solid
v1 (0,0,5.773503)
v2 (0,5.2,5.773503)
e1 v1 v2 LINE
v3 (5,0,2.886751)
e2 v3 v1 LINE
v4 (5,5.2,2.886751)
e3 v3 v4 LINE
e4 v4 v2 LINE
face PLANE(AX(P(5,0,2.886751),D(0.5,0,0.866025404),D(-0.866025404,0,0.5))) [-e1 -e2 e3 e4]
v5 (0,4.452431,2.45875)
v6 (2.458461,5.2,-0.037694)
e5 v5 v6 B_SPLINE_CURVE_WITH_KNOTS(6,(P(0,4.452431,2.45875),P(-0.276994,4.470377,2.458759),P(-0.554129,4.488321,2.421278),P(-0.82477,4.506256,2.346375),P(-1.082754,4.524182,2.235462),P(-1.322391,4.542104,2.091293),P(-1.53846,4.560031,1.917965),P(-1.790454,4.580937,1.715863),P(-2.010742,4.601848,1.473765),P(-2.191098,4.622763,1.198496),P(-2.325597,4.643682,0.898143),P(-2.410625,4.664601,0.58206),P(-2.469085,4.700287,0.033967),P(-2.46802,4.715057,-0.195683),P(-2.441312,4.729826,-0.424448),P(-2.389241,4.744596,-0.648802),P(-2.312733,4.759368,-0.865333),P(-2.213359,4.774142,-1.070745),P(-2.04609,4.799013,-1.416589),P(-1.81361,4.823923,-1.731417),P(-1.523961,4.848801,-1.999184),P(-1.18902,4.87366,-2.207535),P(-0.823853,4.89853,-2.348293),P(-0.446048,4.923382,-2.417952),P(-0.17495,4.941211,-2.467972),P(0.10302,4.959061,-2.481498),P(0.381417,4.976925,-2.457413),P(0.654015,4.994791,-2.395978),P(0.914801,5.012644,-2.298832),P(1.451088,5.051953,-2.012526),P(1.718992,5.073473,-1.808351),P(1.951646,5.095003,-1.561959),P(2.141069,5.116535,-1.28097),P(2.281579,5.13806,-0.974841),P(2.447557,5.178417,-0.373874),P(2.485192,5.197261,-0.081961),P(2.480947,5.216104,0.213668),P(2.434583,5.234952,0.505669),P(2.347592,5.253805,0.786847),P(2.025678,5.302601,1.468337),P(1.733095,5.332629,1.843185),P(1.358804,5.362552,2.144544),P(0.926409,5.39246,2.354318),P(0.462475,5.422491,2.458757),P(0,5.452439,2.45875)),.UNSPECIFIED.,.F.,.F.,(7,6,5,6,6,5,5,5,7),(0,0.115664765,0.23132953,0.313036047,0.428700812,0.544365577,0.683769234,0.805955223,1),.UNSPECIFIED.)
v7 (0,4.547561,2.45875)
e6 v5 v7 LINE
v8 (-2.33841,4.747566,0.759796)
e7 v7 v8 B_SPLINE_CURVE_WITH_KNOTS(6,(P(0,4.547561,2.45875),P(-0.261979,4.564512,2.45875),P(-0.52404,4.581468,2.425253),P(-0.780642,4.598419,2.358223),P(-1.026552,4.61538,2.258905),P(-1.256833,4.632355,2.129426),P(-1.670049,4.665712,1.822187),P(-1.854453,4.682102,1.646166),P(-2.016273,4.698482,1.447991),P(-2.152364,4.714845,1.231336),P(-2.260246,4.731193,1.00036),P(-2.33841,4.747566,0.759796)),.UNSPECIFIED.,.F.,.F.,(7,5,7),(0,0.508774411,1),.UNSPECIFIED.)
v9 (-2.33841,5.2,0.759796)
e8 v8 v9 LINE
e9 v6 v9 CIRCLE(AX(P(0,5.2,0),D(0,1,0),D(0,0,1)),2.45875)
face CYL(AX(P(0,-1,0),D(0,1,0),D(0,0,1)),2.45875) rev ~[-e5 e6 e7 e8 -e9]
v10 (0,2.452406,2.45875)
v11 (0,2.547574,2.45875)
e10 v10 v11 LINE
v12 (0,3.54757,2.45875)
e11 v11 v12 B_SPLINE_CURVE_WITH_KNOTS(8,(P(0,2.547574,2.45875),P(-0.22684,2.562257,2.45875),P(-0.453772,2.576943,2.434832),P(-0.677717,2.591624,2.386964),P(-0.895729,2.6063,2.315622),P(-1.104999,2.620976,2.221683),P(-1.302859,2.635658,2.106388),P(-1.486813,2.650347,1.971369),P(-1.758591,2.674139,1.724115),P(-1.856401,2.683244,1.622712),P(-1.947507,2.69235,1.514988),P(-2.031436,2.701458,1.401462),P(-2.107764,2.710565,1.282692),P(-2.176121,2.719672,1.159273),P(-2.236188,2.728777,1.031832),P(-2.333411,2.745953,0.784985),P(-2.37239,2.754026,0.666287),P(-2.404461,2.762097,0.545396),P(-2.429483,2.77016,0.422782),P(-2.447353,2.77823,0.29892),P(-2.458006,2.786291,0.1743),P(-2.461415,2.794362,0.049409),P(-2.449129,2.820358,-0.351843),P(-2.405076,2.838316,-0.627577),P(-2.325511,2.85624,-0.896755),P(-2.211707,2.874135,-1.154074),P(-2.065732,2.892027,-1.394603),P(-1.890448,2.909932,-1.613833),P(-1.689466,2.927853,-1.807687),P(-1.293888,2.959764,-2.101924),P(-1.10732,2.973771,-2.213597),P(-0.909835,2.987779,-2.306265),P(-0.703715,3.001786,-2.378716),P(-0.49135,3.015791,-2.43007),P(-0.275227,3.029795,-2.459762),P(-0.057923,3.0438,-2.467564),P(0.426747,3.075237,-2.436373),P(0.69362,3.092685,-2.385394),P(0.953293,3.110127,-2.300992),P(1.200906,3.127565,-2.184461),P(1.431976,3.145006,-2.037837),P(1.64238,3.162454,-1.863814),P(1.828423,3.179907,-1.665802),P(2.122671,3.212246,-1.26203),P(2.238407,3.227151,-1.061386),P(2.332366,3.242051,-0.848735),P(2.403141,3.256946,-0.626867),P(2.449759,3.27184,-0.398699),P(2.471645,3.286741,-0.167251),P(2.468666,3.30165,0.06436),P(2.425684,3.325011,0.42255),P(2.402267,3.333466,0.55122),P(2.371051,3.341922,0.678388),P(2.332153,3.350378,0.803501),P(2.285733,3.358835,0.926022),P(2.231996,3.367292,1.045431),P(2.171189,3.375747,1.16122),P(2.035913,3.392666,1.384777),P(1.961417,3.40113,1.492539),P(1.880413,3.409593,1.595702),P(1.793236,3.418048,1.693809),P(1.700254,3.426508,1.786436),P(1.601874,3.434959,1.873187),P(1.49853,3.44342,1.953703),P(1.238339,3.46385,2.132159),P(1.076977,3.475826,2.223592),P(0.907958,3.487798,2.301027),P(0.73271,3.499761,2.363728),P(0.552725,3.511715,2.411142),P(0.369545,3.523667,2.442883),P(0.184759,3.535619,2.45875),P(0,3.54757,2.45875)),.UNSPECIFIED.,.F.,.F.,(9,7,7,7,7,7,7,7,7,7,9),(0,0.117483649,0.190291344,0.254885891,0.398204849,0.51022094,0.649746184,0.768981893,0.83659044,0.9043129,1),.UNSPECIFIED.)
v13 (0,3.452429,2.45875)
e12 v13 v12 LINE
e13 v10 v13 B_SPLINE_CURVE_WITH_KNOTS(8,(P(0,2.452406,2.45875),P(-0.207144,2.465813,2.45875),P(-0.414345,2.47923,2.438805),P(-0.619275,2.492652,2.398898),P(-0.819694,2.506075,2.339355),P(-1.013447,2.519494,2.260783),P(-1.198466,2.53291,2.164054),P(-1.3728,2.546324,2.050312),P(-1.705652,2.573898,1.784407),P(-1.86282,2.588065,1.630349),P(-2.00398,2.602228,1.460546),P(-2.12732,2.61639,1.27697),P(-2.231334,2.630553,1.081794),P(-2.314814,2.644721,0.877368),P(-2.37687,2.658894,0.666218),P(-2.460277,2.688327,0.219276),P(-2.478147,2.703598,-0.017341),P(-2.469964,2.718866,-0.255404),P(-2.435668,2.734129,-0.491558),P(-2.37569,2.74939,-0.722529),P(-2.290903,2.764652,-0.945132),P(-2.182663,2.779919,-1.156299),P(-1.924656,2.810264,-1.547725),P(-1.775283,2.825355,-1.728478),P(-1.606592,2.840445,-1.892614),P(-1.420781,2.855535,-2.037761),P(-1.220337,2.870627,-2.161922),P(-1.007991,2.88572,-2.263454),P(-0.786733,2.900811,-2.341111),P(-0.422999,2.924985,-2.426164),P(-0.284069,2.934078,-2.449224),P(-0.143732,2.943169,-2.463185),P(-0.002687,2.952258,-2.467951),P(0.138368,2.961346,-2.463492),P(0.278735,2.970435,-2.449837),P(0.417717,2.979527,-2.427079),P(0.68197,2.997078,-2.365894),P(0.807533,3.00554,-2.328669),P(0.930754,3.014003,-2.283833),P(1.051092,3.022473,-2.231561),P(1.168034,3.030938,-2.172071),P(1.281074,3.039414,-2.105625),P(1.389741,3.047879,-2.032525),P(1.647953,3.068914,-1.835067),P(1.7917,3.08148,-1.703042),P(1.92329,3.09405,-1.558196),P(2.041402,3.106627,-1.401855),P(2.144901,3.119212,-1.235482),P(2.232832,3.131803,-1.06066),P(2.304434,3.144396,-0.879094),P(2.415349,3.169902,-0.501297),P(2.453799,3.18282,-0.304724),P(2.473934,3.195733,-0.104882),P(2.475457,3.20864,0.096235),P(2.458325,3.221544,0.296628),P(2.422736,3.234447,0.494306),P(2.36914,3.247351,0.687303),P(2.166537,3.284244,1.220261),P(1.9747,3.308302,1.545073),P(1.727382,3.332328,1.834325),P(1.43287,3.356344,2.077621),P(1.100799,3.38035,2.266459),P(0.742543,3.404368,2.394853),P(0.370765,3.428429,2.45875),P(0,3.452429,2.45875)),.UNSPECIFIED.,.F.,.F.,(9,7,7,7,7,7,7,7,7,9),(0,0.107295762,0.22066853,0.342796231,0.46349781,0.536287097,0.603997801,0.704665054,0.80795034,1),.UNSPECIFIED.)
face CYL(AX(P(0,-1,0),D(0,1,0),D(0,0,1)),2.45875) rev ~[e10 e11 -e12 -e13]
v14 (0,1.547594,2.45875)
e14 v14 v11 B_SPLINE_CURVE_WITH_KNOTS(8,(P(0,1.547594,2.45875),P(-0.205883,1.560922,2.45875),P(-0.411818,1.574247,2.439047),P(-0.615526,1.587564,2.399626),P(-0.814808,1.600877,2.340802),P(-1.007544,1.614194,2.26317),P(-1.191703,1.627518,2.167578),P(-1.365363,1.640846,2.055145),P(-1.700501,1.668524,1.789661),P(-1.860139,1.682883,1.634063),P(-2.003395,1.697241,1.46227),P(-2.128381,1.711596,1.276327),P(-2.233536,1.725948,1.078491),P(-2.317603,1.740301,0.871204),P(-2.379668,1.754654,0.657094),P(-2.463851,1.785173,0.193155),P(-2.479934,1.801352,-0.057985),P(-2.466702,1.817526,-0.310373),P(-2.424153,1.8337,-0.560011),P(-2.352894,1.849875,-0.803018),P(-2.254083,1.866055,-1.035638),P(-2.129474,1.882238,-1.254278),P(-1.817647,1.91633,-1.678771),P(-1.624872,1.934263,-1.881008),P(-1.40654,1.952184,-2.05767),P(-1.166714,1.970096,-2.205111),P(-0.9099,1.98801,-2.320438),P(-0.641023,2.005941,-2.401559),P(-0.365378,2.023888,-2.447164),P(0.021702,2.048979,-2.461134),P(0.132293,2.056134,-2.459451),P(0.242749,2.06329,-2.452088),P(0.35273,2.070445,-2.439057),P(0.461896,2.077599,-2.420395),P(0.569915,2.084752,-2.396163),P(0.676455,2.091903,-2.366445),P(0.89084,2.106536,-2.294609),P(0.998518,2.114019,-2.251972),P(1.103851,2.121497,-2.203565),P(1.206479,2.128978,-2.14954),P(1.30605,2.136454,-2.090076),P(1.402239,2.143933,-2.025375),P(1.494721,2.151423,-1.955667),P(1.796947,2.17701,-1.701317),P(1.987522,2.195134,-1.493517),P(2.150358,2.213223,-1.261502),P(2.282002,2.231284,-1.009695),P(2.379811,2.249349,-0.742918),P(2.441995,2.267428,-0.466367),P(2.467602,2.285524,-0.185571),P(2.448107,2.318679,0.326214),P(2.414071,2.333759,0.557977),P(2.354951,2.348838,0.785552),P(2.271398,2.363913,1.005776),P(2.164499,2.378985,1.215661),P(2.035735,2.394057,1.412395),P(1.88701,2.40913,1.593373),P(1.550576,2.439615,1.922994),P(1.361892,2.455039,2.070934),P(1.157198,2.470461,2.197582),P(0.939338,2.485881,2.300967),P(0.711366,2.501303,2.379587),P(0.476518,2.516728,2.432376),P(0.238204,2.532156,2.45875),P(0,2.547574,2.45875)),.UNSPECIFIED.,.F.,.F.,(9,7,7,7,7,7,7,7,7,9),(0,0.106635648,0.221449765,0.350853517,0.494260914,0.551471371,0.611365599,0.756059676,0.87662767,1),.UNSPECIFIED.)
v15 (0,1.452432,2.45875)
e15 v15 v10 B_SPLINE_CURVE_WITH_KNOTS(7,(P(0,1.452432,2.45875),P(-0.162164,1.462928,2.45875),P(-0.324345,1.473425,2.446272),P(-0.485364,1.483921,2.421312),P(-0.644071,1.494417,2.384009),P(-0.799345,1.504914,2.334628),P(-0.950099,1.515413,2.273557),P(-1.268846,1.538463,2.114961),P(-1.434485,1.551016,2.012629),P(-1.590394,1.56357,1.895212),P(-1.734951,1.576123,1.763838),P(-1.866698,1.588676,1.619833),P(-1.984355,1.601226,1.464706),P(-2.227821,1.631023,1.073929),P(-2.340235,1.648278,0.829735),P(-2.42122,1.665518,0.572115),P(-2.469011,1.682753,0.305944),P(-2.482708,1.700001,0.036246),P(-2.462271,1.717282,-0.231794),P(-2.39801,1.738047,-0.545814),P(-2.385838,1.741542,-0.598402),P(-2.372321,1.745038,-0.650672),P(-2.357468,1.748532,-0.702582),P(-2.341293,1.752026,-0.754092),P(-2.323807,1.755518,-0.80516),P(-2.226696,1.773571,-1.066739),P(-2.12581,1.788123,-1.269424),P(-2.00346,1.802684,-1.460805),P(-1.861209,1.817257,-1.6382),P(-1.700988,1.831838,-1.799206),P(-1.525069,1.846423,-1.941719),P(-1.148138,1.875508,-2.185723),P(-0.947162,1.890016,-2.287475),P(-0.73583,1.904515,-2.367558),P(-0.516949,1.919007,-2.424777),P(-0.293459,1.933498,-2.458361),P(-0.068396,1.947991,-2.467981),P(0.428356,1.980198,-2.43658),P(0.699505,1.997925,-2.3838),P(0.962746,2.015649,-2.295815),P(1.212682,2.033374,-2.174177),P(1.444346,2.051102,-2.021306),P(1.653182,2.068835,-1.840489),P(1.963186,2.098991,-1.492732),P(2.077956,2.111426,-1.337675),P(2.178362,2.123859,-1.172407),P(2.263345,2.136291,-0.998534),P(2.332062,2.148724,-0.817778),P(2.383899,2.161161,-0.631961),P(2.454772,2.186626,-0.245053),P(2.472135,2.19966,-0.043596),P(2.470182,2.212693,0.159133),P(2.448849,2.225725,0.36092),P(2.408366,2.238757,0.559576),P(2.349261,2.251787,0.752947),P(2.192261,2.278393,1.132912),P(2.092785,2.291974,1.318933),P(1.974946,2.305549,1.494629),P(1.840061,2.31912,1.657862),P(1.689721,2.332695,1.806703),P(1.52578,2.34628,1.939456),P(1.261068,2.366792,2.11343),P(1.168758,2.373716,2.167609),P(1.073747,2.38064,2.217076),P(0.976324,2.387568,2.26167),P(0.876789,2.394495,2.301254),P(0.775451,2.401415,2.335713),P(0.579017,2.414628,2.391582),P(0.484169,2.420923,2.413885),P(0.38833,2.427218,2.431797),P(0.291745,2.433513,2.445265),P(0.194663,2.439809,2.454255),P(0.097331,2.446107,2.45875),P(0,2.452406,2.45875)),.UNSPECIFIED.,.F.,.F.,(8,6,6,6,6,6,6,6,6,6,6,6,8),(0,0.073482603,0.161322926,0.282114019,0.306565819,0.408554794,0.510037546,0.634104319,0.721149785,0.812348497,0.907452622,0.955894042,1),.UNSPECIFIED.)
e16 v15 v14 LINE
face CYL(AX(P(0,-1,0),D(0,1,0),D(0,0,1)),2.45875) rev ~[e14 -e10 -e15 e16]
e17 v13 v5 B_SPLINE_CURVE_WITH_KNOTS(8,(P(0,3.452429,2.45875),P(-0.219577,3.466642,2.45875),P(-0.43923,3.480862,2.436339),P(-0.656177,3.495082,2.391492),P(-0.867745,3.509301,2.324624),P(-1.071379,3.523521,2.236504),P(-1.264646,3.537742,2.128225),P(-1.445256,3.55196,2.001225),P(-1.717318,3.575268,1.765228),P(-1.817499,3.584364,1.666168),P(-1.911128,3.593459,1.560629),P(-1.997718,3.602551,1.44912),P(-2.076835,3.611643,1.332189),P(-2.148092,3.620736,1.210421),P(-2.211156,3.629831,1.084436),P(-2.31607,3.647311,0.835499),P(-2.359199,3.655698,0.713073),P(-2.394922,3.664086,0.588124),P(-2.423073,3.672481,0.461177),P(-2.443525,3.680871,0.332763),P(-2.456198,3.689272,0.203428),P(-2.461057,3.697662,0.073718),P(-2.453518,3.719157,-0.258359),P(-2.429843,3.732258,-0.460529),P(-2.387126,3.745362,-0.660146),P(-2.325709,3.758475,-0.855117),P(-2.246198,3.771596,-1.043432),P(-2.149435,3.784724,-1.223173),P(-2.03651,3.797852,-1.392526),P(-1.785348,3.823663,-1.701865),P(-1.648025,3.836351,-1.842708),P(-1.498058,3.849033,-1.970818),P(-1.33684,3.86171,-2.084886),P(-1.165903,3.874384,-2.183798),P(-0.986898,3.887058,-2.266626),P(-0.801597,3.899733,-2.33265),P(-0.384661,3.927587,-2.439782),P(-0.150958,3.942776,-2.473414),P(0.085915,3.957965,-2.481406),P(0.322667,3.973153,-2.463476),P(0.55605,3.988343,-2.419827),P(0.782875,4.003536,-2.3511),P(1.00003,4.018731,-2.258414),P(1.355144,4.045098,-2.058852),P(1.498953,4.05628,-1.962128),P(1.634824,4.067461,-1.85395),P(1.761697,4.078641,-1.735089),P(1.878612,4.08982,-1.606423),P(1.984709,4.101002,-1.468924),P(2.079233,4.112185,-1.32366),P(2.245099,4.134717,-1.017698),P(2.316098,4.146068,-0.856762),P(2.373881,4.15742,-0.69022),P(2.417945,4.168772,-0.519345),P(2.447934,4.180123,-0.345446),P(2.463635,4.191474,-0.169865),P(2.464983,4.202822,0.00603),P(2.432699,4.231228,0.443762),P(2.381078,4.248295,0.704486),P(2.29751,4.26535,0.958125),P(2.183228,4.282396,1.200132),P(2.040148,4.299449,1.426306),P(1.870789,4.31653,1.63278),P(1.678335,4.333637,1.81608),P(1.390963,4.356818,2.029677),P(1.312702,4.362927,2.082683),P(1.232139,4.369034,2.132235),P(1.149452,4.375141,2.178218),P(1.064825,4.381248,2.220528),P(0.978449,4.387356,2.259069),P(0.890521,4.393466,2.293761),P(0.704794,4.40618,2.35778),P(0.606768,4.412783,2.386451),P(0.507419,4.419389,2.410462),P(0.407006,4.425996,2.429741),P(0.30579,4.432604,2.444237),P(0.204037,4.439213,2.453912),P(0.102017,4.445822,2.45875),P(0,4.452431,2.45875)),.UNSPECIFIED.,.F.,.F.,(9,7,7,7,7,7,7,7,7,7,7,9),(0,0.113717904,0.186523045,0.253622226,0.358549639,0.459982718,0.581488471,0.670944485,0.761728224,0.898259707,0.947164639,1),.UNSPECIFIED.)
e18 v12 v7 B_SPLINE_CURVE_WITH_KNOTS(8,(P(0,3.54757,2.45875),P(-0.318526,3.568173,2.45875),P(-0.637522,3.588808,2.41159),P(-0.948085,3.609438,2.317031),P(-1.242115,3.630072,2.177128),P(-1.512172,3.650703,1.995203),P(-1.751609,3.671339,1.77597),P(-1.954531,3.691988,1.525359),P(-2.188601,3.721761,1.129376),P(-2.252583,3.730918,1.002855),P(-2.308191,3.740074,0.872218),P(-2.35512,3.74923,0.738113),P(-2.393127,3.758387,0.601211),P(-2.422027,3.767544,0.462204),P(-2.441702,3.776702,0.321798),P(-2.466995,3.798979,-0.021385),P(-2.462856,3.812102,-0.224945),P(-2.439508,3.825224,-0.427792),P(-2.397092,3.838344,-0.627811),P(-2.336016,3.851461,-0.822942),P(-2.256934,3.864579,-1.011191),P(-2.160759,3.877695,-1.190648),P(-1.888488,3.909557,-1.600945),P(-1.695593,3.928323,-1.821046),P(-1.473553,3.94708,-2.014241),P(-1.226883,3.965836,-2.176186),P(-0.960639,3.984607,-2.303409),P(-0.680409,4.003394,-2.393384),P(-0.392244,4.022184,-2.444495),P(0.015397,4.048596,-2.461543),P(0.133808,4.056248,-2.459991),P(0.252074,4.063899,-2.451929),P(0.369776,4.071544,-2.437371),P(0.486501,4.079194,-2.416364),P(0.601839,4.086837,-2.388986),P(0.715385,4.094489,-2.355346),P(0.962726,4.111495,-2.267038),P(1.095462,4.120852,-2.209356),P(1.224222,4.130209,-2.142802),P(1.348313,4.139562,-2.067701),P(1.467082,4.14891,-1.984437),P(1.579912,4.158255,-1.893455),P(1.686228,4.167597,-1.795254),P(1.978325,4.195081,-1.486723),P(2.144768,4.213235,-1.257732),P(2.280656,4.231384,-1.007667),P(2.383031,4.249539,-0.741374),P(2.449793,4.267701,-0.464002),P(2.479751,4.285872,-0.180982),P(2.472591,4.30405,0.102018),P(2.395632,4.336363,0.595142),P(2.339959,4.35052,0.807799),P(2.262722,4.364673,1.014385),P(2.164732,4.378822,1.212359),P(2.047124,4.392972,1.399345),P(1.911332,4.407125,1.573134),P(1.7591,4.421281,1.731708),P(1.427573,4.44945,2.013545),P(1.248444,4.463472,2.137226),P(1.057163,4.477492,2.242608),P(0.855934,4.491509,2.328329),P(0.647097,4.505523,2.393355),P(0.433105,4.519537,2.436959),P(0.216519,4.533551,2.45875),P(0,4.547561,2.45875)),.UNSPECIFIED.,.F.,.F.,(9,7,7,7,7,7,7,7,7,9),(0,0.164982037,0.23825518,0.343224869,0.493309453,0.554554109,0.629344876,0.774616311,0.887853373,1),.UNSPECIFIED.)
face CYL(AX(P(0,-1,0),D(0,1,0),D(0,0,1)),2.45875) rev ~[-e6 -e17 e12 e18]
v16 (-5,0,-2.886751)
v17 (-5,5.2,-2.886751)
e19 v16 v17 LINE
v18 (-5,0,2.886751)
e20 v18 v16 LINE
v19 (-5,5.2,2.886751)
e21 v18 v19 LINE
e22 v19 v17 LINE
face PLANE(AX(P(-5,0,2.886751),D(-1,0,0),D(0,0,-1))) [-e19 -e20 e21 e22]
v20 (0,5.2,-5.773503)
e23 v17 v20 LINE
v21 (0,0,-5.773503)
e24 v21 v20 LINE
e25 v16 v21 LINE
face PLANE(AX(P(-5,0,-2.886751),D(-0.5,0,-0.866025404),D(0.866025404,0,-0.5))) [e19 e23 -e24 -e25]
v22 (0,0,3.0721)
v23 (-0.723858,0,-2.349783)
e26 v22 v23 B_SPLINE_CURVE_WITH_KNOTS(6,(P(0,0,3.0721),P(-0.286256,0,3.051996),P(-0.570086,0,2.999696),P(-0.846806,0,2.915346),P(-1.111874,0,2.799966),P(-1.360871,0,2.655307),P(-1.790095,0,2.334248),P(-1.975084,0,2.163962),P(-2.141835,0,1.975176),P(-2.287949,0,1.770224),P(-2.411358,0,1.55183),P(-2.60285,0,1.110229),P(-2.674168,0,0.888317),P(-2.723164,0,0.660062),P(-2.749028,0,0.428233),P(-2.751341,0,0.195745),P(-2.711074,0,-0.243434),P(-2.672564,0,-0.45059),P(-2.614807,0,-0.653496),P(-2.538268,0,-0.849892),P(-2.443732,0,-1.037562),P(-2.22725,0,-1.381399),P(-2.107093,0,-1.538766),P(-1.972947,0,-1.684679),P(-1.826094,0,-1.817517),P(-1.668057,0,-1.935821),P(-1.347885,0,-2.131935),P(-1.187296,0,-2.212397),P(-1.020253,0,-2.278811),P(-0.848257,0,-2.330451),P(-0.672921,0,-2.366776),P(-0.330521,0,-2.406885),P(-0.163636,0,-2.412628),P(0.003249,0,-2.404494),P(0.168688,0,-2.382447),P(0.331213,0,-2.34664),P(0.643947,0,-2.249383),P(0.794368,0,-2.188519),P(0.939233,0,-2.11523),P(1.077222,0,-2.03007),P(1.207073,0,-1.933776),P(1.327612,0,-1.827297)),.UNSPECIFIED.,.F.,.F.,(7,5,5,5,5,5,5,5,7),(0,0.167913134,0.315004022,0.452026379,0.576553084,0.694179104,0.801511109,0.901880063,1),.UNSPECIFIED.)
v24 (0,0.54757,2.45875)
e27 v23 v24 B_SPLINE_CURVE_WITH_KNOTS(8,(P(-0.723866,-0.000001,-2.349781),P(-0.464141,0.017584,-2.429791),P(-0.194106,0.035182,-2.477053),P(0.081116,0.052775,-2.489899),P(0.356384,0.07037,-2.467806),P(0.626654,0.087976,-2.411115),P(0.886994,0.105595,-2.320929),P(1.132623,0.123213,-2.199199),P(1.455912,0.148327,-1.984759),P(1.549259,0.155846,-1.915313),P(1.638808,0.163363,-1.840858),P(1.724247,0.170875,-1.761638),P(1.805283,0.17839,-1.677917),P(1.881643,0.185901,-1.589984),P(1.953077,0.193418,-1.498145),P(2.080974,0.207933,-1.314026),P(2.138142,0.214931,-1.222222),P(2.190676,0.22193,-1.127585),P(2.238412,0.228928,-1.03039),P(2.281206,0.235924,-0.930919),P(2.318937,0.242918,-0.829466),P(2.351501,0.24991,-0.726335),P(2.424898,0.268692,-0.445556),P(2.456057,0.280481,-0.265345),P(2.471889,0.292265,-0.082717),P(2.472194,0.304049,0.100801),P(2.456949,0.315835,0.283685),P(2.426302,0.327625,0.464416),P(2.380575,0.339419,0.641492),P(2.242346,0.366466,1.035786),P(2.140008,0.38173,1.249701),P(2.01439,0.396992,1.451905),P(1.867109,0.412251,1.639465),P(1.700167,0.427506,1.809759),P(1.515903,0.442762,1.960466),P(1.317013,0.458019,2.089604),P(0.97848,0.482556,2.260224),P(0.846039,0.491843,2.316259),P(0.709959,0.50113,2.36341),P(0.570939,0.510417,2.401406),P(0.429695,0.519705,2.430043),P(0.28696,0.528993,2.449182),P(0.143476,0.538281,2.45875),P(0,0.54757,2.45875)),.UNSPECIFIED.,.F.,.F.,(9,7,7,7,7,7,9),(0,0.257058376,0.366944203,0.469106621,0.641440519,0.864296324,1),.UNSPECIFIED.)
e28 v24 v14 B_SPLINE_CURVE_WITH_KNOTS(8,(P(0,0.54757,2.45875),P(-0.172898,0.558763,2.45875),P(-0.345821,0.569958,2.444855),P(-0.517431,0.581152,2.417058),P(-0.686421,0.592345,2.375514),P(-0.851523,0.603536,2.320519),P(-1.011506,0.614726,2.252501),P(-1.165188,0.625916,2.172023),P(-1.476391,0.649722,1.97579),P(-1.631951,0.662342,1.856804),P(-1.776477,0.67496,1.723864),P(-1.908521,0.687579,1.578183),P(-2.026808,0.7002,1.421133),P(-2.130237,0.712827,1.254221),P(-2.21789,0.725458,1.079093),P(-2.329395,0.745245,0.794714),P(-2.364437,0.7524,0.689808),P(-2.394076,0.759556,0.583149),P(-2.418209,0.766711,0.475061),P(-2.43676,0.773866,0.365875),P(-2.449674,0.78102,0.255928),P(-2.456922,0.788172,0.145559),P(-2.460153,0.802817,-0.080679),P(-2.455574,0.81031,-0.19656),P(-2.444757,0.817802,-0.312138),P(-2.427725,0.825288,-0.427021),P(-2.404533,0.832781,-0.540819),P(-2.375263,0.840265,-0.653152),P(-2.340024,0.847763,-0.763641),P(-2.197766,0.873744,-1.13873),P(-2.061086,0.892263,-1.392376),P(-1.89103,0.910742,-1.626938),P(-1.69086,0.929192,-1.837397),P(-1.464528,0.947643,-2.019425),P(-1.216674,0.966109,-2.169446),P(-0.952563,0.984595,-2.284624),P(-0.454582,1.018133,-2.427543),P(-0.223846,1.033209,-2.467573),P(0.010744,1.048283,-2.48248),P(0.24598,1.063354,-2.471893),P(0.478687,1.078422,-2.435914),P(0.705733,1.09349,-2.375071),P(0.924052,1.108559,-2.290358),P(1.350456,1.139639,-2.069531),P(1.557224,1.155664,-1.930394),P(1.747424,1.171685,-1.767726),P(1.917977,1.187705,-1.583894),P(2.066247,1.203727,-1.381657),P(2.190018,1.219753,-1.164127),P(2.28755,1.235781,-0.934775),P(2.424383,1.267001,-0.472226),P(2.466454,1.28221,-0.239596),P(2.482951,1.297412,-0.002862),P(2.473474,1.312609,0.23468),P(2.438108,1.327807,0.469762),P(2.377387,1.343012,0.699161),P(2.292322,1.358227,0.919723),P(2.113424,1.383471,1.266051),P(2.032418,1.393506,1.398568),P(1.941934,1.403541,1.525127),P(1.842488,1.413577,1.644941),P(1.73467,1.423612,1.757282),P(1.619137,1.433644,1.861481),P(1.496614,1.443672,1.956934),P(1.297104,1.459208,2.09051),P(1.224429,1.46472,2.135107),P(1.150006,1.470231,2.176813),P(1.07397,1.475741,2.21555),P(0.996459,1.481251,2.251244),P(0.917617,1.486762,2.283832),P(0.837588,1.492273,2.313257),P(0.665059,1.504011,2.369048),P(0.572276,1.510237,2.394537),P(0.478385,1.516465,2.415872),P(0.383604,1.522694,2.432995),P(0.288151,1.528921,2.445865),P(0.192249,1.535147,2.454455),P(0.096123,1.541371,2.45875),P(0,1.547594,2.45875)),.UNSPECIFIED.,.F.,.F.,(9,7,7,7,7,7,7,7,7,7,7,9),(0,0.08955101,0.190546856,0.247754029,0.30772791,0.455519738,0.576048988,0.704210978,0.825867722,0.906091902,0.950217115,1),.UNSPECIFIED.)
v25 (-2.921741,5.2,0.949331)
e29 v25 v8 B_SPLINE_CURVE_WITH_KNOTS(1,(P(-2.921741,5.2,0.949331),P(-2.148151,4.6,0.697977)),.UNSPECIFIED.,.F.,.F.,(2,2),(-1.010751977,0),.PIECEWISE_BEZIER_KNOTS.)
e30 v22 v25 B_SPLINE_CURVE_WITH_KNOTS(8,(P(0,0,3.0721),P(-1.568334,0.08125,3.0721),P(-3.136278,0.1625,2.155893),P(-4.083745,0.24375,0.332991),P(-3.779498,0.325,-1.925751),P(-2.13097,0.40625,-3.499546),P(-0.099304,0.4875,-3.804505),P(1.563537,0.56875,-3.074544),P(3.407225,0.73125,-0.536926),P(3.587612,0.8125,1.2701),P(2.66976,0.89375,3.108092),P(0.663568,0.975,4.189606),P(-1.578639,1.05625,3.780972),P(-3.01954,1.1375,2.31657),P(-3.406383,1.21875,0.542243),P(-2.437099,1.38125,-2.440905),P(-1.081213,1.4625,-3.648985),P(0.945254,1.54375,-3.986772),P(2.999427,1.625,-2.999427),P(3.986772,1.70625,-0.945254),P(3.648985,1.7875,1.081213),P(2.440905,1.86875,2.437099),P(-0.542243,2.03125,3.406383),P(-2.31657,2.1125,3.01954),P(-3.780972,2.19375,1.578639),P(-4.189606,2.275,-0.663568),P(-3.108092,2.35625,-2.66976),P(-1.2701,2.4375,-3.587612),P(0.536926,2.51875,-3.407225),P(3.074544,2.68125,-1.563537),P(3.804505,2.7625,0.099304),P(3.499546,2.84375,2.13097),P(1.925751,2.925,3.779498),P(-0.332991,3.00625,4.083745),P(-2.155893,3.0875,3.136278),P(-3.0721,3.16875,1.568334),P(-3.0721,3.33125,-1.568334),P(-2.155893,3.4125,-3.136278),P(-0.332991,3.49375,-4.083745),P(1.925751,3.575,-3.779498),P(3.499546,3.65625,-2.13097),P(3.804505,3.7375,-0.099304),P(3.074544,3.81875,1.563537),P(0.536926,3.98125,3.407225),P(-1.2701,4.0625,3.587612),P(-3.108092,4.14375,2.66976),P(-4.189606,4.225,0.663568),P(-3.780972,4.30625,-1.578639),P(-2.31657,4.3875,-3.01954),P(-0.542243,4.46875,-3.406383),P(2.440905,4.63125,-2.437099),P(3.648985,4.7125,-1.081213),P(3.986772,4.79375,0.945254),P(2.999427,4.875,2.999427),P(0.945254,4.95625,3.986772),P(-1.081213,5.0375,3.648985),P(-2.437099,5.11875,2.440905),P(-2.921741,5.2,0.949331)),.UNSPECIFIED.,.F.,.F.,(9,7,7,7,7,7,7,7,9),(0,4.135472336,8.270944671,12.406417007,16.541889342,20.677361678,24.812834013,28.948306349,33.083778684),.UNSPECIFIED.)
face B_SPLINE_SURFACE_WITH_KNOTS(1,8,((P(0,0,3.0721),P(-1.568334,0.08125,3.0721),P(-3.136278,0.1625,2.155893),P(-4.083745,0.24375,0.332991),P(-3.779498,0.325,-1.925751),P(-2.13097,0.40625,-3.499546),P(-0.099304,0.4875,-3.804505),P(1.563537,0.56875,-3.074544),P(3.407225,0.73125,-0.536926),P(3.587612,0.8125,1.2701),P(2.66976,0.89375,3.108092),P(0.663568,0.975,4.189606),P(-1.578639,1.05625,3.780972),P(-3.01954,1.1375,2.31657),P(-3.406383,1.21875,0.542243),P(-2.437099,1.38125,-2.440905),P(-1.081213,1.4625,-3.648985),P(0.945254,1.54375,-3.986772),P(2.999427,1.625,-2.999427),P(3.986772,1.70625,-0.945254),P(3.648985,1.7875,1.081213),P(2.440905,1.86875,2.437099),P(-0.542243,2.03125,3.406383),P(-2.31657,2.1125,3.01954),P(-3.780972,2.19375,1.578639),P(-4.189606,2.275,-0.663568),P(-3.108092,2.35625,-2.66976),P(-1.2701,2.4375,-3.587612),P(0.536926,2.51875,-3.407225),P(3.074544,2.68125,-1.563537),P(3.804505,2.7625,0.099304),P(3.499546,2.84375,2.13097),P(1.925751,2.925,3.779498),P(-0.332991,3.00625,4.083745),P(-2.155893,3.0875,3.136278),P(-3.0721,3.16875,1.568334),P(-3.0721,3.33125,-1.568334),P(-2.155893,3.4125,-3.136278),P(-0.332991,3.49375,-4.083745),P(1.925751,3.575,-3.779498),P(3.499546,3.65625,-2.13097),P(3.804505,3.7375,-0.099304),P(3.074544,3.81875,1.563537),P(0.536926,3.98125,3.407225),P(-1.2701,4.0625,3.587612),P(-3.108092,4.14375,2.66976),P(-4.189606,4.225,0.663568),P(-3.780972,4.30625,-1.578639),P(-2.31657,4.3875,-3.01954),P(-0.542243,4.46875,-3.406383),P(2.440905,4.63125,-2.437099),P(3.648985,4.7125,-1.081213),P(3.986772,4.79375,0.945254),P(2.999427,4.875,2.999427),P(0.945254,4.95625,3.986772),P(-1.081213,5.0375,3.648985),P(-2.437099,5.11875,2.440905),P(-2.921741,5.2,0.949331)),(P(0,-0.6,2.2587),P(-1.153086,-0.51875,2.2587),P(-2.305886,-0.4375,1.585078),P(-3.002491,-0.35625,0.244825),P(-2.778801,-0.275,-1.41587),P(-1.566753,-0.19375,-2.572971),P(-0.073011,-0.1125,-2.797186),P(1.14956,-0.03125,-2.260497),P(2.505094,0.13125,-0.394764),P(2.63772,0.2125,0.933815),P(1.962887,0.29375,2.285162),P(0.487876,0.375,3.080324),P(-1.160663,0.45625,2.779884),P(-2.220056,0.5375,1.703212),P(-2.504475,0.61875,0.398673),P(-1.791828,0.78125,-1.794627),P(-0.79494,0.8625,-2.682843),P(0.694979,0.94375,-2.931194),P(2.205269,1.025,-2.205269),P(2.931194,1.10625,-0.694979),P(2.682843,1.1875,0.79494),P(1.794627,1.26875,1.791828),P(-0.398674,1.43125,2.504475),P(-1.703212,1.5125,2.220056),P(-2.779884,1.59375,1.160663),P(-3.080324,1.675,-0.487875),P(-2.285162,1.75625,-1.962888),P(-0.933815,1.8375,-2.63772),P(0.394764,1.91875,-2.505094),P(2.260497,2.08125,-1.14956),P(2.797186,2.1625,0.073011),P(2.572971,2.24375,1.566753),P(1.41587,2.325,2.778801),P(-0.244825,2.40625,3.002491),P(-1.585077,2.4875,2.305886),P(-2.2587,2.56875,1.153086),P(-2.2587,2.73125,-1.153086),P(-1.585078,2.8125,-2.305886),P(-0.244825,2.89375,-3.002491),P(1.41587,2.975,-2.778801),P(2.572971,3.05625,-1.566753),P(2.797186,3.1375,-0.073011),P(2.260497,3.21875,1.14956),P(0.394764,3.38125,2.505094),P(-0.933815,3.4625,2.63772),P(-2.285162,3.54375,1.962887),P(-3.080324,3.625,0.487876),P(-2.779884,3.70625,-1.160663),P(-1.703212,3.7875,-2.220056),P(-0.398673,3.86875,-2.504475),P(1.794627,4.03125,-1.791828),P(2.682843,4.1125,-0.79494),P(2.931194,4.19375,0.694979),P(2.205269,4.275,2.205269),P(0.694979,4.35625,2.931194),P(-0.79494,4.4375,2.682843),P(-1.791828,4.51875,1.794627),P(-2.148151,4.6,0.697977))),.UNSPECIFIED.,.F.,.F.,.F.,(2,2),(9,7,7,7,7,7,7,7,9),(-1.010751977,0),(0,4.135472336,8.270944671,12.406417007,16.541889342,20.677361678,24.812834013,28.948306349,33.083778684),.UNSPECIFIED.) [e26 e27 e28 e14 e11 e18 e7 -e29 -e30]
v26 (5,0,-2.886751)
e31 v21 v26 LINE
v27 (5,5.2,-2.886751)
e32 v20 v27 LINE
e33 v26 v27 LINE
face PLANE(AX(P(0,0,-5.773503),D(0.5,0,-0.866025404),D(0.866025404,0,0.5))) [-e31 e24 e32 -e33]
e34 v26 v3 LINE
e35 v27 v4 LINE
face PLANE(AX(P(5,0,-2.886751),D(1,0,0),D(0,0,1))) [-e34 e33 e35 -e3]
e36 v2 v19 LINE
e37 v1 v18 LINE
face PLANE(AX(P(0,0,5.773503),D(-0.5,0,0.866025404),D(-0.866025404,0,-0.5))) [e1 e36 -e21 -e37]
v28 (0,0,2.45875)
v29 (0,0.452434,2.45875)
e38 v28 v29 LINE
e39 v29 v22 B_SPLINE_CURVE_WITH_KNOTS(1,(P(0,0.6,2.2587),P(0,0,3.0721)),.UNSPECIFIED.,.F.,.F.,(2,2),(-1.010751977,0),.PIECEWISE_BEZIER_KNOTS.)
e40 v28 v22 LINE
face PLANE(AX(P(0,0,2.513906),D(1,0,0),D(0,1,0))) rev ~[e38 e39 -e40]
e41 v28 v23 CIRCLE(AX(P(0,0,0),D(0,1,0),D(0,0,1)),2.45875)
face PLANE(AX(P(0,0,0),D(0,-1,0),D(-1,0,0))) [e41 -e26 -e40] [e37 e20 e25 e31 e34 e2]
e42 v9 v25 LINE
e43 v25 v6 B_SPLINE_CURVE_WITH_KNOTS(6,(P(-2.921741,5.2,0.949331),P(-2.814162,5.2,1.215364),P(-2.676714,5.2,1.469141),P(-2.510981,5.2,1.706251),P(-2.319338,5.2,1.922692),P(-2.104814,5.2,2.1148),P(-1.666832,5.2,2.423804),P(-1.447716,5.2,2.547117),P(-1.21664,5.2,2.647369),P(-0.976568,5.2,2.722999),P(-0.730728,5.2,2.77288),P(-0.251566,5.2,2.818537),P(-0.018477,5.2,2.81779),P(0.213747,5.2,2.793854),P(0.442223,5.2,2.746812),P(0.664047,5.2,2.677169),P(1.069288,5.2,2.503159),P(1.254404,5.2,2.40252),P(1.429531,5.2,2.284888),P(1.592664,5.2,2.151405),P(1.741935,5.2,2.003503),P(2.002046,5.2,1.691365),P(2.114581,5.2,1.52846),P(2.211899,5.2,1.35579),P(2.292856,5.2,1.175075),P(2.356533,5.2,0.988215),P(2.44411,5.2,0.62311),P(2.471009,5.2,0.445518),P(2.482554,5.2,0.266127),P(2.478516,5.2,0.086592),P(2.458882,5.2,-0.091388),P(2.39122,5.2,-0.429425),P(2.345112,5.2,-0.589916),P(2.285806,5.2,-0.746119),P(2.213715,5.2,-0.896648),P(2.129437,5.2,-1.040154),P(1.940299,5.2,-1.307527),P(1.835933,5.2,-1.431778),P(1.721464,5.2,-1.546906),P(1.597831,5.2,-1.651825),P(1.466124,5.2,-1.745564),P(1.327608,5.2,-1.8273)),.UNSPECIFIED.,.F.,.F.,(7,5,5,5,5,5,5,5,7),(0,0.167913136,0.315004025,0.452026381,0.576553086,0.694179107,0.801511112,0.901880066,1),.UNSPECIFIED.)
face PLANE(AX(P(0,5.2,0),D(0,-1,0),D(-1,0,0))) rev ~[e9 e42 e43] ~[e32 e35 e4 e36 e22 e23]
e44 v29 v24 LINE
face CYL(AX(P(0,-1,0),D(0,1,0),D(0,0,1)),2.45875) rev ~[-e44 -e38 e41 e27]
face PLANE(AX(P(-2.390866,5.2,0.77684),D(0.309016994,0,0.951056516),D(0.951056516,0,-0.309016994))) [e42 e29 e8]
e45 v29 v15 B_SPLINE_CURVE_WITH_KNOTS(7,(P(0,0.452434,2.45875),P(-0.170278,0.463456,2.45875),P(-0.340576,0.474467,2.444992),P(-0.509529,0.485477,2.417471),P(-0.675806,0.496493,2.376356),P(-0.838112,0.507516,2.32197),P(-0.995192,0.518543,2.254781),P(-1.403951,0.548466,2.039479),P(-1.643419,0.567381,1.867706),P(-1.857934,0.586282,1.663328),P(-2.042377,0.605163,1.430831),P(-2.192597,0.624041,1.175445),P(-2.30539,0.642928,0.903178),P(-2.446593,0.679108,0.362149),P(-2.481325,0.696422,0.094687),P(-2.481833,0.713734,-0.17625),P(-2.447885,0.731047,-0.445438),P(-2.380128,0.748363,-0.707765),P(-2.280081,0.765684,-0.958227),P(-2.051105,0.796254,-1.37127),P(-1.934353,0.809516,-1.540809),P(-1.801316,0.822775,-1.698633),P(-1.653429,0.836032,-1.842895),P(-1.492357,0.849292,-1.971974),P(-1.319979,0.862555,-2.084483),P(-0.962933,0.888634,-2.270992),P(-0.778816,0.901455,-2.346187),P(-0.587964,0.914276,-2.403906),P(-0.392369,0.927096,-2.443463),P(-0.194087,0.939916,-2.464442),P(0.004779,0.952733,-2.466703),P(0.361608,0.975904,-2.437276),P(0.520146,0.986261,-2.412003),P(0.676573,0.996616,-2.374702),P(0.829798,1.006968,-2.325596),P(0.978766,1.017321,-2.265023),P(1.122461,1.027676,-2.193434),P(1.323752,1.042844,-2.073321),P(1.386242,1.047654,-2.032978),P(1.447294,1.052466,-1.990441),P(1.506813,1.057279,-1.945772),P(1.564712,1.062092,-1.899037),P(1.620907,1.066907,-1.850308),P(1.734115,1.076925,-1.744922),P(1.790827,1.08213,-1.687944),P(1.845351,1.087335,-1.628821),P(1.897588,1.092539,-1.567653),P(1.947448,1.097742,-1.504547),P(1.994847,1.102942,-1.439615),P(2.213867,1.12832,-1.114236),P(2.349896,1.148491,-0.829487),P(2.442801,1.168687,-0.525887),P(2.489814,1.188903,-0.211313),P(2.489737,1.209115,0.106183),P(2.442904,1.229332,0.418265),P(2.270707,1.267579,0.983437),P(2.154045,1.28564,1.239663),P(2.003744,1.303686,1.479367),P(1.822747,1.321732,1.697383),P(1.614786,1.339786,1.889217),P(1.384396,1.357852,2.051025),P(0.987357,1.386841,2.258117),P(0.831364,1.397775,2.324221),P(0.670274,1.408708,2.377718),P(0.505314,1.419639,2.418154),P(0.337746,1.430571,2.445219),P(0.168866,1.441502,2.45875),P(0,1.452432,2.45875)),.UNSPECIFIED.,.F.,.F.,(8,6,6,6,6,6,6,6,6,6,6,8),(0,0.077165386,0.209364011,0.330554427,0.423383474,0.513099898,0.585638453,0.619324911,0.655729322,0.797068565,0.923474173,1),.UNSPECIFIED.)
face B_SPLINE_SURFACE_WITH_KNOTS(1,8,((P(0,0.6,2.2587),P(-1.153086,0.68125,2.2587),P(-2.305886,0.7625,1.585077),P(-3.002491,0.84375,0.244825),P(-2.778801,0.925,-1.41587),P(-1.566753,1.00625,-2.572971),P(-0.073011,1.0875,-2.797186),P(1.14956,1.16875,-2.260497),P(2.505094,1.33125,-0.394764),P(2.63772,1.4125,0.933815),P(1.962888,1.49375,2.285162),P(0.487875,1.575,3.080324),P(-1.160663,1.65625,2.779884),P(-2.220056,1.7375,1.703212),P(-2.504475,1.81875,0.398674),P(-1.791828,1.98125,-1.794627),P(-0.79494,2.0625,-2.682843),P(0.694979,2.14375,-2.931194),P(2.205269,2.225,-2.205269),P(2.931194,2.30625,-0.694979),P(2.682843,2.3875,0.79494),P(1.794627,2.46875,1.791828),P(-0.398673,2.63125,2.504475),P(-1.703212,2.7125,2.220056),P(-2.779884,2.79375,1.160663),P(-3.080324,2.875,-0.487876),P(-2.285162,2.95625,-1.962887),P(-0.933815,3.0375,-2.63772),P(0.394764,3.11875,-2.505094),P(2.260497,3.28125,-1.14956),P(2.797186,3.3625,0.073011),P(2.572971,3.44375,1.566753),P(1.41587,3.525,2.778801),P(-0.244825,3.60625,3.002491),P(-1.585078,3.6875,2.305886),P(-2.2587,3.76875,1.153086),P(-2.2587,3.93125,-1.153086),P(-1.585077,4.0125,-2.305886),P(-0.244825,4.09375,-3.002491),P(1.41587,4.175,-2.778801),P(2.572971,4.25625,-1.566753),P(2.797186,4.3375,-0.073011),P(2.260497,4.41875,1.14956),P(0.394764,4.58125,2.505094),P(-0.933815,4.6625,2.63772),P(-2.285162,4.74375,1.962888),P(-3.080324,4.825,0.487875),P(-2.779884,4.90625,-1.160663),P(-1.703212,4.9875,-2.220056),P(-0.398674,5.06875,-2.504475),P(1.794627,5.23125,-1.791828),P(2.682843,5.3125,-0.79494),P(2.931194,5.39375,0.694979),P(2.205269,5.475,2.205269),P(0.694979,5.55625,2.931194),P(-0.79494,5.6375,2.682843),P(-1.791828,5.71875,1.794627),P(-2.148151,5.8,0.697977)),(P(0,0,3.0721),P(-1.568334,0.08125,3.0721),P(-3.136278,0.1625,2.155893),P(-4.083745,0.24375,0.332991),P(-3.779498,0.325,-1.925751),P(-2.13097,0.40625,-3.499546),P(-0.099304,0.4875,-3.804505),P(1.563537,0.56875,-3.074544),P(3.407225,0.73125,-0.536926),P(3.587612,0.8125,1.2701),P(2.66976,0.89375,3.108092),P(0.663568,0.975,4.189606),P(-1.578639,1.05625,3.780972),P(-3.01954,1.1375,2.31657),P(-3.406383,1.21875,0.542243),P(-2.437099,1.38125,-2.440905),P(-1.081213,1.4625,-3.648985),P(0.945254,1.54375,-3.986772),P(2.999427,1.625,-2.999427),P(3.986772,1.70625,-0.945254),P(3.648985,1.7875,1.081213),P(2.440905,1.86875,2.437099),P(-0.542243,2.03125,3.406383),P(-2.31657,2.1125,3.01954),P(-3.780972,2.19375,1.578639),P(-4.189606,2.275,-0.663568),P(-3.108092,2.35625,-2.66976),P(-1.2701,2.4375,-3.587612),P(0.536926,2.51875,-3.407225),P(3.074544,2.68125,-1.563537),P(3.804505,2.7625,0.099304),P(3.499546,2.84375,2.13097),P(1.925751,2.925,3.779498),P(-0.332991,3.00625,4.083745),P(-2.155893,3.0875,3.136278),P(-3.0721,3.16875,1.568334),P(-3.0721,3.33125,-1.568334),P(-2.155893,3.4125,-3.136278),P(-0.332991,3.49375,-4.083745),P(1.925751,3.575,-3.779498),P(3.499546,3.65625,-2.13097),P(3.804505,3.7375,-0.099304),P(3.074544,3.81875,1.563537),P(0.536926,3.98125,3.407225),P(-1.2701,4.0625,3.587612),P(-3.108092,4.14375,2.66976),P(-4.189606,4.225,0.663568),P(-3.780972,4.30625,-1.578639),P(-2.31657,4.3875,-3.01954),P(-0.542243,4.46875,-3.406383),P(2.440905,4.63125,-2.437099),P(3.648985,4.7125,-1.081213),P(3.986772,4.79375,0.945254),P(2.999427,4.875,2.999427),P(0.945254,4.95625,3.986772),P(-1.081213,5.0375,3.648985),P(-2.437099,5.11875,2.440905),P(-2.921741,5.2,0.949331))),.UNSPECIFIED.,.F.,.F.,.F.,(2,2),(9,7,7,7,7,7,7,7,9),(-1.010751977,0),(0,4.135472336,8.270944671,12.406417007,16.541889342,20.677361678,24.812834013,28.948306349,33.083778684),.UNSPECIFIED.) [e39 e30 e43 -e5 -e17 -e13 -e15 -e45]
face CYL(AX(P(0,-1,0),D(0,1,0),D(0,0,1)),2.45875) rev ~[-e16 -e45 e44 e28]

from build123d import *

# Parameters (mm, degrees)
HEXAGONO_DEPTH      = 5.2
TALADRO_PROFILE_R   = 2.45875
ROSCA_M6X1_0_PITCH  = 1
ROSCA_M6X1_0_HEIGHT = 5.2
ROSCA_M6X1_0_RADIUS = 2.4587


with BuildPart() as part:
    # Sk_Hexagono → Hexagono (new body)
    with BuildSketch(Plane(origin=(0, 0, 0), x_dir=(1, 0, 0), z_dir=(0, 1, 0))):
        Polygon((5, -2.886751346), (0, -5.773502692), (-5, -2.886751346), (-5, 2.886751346), (0, 5.773502692), (5, 2.886751346), align=None)
    extrude(amount=HEXAGONO_DEPTH)

    # Taladro: sweep along a curve in space
    with BuildLine() as taladro_path:
        Line((0, -1, 0), (0, 6.2, 0))
    # Taladro profile (on start of the path) → Taladro (sweep, cut)
    with BuildSketch(Plane.ZX.offset(-1)):
        Circle(TALADRO_PROFILE_R)
    sweep(path=taladro_path.line, mode=Mode.SUBTRACT)

    # Rosca_M6x1,0: sweep along a helix
    with BuildLine() as rosca_m6x1_0_path:
        Helix(ROSCA_M6X1_0_PITCH, ROSCA_M6X1_0_HEIGHT, ROSCA_M6X1_0_RADIUS, center=(0, 0, 0), direction=(0, 1, 0), lefthand=True)
    # Sk_Perfil_rosca → Rosca_M6x1,0 (sweep, cut)
    with BuildSketch(Plane(origin=(0, 0, 0), x_dir=(0, 0, -1), z_dir=(1, 0, 0))):
        Polygon((-2.2587, -0.6), (-3.0721, 0), (-2.2587, 0.6), align=None)
    sweep(path=rosca_m6x1_0_path.line, is_frenet=True, mode=Mode.SUBTRACT)


solid = part.part
